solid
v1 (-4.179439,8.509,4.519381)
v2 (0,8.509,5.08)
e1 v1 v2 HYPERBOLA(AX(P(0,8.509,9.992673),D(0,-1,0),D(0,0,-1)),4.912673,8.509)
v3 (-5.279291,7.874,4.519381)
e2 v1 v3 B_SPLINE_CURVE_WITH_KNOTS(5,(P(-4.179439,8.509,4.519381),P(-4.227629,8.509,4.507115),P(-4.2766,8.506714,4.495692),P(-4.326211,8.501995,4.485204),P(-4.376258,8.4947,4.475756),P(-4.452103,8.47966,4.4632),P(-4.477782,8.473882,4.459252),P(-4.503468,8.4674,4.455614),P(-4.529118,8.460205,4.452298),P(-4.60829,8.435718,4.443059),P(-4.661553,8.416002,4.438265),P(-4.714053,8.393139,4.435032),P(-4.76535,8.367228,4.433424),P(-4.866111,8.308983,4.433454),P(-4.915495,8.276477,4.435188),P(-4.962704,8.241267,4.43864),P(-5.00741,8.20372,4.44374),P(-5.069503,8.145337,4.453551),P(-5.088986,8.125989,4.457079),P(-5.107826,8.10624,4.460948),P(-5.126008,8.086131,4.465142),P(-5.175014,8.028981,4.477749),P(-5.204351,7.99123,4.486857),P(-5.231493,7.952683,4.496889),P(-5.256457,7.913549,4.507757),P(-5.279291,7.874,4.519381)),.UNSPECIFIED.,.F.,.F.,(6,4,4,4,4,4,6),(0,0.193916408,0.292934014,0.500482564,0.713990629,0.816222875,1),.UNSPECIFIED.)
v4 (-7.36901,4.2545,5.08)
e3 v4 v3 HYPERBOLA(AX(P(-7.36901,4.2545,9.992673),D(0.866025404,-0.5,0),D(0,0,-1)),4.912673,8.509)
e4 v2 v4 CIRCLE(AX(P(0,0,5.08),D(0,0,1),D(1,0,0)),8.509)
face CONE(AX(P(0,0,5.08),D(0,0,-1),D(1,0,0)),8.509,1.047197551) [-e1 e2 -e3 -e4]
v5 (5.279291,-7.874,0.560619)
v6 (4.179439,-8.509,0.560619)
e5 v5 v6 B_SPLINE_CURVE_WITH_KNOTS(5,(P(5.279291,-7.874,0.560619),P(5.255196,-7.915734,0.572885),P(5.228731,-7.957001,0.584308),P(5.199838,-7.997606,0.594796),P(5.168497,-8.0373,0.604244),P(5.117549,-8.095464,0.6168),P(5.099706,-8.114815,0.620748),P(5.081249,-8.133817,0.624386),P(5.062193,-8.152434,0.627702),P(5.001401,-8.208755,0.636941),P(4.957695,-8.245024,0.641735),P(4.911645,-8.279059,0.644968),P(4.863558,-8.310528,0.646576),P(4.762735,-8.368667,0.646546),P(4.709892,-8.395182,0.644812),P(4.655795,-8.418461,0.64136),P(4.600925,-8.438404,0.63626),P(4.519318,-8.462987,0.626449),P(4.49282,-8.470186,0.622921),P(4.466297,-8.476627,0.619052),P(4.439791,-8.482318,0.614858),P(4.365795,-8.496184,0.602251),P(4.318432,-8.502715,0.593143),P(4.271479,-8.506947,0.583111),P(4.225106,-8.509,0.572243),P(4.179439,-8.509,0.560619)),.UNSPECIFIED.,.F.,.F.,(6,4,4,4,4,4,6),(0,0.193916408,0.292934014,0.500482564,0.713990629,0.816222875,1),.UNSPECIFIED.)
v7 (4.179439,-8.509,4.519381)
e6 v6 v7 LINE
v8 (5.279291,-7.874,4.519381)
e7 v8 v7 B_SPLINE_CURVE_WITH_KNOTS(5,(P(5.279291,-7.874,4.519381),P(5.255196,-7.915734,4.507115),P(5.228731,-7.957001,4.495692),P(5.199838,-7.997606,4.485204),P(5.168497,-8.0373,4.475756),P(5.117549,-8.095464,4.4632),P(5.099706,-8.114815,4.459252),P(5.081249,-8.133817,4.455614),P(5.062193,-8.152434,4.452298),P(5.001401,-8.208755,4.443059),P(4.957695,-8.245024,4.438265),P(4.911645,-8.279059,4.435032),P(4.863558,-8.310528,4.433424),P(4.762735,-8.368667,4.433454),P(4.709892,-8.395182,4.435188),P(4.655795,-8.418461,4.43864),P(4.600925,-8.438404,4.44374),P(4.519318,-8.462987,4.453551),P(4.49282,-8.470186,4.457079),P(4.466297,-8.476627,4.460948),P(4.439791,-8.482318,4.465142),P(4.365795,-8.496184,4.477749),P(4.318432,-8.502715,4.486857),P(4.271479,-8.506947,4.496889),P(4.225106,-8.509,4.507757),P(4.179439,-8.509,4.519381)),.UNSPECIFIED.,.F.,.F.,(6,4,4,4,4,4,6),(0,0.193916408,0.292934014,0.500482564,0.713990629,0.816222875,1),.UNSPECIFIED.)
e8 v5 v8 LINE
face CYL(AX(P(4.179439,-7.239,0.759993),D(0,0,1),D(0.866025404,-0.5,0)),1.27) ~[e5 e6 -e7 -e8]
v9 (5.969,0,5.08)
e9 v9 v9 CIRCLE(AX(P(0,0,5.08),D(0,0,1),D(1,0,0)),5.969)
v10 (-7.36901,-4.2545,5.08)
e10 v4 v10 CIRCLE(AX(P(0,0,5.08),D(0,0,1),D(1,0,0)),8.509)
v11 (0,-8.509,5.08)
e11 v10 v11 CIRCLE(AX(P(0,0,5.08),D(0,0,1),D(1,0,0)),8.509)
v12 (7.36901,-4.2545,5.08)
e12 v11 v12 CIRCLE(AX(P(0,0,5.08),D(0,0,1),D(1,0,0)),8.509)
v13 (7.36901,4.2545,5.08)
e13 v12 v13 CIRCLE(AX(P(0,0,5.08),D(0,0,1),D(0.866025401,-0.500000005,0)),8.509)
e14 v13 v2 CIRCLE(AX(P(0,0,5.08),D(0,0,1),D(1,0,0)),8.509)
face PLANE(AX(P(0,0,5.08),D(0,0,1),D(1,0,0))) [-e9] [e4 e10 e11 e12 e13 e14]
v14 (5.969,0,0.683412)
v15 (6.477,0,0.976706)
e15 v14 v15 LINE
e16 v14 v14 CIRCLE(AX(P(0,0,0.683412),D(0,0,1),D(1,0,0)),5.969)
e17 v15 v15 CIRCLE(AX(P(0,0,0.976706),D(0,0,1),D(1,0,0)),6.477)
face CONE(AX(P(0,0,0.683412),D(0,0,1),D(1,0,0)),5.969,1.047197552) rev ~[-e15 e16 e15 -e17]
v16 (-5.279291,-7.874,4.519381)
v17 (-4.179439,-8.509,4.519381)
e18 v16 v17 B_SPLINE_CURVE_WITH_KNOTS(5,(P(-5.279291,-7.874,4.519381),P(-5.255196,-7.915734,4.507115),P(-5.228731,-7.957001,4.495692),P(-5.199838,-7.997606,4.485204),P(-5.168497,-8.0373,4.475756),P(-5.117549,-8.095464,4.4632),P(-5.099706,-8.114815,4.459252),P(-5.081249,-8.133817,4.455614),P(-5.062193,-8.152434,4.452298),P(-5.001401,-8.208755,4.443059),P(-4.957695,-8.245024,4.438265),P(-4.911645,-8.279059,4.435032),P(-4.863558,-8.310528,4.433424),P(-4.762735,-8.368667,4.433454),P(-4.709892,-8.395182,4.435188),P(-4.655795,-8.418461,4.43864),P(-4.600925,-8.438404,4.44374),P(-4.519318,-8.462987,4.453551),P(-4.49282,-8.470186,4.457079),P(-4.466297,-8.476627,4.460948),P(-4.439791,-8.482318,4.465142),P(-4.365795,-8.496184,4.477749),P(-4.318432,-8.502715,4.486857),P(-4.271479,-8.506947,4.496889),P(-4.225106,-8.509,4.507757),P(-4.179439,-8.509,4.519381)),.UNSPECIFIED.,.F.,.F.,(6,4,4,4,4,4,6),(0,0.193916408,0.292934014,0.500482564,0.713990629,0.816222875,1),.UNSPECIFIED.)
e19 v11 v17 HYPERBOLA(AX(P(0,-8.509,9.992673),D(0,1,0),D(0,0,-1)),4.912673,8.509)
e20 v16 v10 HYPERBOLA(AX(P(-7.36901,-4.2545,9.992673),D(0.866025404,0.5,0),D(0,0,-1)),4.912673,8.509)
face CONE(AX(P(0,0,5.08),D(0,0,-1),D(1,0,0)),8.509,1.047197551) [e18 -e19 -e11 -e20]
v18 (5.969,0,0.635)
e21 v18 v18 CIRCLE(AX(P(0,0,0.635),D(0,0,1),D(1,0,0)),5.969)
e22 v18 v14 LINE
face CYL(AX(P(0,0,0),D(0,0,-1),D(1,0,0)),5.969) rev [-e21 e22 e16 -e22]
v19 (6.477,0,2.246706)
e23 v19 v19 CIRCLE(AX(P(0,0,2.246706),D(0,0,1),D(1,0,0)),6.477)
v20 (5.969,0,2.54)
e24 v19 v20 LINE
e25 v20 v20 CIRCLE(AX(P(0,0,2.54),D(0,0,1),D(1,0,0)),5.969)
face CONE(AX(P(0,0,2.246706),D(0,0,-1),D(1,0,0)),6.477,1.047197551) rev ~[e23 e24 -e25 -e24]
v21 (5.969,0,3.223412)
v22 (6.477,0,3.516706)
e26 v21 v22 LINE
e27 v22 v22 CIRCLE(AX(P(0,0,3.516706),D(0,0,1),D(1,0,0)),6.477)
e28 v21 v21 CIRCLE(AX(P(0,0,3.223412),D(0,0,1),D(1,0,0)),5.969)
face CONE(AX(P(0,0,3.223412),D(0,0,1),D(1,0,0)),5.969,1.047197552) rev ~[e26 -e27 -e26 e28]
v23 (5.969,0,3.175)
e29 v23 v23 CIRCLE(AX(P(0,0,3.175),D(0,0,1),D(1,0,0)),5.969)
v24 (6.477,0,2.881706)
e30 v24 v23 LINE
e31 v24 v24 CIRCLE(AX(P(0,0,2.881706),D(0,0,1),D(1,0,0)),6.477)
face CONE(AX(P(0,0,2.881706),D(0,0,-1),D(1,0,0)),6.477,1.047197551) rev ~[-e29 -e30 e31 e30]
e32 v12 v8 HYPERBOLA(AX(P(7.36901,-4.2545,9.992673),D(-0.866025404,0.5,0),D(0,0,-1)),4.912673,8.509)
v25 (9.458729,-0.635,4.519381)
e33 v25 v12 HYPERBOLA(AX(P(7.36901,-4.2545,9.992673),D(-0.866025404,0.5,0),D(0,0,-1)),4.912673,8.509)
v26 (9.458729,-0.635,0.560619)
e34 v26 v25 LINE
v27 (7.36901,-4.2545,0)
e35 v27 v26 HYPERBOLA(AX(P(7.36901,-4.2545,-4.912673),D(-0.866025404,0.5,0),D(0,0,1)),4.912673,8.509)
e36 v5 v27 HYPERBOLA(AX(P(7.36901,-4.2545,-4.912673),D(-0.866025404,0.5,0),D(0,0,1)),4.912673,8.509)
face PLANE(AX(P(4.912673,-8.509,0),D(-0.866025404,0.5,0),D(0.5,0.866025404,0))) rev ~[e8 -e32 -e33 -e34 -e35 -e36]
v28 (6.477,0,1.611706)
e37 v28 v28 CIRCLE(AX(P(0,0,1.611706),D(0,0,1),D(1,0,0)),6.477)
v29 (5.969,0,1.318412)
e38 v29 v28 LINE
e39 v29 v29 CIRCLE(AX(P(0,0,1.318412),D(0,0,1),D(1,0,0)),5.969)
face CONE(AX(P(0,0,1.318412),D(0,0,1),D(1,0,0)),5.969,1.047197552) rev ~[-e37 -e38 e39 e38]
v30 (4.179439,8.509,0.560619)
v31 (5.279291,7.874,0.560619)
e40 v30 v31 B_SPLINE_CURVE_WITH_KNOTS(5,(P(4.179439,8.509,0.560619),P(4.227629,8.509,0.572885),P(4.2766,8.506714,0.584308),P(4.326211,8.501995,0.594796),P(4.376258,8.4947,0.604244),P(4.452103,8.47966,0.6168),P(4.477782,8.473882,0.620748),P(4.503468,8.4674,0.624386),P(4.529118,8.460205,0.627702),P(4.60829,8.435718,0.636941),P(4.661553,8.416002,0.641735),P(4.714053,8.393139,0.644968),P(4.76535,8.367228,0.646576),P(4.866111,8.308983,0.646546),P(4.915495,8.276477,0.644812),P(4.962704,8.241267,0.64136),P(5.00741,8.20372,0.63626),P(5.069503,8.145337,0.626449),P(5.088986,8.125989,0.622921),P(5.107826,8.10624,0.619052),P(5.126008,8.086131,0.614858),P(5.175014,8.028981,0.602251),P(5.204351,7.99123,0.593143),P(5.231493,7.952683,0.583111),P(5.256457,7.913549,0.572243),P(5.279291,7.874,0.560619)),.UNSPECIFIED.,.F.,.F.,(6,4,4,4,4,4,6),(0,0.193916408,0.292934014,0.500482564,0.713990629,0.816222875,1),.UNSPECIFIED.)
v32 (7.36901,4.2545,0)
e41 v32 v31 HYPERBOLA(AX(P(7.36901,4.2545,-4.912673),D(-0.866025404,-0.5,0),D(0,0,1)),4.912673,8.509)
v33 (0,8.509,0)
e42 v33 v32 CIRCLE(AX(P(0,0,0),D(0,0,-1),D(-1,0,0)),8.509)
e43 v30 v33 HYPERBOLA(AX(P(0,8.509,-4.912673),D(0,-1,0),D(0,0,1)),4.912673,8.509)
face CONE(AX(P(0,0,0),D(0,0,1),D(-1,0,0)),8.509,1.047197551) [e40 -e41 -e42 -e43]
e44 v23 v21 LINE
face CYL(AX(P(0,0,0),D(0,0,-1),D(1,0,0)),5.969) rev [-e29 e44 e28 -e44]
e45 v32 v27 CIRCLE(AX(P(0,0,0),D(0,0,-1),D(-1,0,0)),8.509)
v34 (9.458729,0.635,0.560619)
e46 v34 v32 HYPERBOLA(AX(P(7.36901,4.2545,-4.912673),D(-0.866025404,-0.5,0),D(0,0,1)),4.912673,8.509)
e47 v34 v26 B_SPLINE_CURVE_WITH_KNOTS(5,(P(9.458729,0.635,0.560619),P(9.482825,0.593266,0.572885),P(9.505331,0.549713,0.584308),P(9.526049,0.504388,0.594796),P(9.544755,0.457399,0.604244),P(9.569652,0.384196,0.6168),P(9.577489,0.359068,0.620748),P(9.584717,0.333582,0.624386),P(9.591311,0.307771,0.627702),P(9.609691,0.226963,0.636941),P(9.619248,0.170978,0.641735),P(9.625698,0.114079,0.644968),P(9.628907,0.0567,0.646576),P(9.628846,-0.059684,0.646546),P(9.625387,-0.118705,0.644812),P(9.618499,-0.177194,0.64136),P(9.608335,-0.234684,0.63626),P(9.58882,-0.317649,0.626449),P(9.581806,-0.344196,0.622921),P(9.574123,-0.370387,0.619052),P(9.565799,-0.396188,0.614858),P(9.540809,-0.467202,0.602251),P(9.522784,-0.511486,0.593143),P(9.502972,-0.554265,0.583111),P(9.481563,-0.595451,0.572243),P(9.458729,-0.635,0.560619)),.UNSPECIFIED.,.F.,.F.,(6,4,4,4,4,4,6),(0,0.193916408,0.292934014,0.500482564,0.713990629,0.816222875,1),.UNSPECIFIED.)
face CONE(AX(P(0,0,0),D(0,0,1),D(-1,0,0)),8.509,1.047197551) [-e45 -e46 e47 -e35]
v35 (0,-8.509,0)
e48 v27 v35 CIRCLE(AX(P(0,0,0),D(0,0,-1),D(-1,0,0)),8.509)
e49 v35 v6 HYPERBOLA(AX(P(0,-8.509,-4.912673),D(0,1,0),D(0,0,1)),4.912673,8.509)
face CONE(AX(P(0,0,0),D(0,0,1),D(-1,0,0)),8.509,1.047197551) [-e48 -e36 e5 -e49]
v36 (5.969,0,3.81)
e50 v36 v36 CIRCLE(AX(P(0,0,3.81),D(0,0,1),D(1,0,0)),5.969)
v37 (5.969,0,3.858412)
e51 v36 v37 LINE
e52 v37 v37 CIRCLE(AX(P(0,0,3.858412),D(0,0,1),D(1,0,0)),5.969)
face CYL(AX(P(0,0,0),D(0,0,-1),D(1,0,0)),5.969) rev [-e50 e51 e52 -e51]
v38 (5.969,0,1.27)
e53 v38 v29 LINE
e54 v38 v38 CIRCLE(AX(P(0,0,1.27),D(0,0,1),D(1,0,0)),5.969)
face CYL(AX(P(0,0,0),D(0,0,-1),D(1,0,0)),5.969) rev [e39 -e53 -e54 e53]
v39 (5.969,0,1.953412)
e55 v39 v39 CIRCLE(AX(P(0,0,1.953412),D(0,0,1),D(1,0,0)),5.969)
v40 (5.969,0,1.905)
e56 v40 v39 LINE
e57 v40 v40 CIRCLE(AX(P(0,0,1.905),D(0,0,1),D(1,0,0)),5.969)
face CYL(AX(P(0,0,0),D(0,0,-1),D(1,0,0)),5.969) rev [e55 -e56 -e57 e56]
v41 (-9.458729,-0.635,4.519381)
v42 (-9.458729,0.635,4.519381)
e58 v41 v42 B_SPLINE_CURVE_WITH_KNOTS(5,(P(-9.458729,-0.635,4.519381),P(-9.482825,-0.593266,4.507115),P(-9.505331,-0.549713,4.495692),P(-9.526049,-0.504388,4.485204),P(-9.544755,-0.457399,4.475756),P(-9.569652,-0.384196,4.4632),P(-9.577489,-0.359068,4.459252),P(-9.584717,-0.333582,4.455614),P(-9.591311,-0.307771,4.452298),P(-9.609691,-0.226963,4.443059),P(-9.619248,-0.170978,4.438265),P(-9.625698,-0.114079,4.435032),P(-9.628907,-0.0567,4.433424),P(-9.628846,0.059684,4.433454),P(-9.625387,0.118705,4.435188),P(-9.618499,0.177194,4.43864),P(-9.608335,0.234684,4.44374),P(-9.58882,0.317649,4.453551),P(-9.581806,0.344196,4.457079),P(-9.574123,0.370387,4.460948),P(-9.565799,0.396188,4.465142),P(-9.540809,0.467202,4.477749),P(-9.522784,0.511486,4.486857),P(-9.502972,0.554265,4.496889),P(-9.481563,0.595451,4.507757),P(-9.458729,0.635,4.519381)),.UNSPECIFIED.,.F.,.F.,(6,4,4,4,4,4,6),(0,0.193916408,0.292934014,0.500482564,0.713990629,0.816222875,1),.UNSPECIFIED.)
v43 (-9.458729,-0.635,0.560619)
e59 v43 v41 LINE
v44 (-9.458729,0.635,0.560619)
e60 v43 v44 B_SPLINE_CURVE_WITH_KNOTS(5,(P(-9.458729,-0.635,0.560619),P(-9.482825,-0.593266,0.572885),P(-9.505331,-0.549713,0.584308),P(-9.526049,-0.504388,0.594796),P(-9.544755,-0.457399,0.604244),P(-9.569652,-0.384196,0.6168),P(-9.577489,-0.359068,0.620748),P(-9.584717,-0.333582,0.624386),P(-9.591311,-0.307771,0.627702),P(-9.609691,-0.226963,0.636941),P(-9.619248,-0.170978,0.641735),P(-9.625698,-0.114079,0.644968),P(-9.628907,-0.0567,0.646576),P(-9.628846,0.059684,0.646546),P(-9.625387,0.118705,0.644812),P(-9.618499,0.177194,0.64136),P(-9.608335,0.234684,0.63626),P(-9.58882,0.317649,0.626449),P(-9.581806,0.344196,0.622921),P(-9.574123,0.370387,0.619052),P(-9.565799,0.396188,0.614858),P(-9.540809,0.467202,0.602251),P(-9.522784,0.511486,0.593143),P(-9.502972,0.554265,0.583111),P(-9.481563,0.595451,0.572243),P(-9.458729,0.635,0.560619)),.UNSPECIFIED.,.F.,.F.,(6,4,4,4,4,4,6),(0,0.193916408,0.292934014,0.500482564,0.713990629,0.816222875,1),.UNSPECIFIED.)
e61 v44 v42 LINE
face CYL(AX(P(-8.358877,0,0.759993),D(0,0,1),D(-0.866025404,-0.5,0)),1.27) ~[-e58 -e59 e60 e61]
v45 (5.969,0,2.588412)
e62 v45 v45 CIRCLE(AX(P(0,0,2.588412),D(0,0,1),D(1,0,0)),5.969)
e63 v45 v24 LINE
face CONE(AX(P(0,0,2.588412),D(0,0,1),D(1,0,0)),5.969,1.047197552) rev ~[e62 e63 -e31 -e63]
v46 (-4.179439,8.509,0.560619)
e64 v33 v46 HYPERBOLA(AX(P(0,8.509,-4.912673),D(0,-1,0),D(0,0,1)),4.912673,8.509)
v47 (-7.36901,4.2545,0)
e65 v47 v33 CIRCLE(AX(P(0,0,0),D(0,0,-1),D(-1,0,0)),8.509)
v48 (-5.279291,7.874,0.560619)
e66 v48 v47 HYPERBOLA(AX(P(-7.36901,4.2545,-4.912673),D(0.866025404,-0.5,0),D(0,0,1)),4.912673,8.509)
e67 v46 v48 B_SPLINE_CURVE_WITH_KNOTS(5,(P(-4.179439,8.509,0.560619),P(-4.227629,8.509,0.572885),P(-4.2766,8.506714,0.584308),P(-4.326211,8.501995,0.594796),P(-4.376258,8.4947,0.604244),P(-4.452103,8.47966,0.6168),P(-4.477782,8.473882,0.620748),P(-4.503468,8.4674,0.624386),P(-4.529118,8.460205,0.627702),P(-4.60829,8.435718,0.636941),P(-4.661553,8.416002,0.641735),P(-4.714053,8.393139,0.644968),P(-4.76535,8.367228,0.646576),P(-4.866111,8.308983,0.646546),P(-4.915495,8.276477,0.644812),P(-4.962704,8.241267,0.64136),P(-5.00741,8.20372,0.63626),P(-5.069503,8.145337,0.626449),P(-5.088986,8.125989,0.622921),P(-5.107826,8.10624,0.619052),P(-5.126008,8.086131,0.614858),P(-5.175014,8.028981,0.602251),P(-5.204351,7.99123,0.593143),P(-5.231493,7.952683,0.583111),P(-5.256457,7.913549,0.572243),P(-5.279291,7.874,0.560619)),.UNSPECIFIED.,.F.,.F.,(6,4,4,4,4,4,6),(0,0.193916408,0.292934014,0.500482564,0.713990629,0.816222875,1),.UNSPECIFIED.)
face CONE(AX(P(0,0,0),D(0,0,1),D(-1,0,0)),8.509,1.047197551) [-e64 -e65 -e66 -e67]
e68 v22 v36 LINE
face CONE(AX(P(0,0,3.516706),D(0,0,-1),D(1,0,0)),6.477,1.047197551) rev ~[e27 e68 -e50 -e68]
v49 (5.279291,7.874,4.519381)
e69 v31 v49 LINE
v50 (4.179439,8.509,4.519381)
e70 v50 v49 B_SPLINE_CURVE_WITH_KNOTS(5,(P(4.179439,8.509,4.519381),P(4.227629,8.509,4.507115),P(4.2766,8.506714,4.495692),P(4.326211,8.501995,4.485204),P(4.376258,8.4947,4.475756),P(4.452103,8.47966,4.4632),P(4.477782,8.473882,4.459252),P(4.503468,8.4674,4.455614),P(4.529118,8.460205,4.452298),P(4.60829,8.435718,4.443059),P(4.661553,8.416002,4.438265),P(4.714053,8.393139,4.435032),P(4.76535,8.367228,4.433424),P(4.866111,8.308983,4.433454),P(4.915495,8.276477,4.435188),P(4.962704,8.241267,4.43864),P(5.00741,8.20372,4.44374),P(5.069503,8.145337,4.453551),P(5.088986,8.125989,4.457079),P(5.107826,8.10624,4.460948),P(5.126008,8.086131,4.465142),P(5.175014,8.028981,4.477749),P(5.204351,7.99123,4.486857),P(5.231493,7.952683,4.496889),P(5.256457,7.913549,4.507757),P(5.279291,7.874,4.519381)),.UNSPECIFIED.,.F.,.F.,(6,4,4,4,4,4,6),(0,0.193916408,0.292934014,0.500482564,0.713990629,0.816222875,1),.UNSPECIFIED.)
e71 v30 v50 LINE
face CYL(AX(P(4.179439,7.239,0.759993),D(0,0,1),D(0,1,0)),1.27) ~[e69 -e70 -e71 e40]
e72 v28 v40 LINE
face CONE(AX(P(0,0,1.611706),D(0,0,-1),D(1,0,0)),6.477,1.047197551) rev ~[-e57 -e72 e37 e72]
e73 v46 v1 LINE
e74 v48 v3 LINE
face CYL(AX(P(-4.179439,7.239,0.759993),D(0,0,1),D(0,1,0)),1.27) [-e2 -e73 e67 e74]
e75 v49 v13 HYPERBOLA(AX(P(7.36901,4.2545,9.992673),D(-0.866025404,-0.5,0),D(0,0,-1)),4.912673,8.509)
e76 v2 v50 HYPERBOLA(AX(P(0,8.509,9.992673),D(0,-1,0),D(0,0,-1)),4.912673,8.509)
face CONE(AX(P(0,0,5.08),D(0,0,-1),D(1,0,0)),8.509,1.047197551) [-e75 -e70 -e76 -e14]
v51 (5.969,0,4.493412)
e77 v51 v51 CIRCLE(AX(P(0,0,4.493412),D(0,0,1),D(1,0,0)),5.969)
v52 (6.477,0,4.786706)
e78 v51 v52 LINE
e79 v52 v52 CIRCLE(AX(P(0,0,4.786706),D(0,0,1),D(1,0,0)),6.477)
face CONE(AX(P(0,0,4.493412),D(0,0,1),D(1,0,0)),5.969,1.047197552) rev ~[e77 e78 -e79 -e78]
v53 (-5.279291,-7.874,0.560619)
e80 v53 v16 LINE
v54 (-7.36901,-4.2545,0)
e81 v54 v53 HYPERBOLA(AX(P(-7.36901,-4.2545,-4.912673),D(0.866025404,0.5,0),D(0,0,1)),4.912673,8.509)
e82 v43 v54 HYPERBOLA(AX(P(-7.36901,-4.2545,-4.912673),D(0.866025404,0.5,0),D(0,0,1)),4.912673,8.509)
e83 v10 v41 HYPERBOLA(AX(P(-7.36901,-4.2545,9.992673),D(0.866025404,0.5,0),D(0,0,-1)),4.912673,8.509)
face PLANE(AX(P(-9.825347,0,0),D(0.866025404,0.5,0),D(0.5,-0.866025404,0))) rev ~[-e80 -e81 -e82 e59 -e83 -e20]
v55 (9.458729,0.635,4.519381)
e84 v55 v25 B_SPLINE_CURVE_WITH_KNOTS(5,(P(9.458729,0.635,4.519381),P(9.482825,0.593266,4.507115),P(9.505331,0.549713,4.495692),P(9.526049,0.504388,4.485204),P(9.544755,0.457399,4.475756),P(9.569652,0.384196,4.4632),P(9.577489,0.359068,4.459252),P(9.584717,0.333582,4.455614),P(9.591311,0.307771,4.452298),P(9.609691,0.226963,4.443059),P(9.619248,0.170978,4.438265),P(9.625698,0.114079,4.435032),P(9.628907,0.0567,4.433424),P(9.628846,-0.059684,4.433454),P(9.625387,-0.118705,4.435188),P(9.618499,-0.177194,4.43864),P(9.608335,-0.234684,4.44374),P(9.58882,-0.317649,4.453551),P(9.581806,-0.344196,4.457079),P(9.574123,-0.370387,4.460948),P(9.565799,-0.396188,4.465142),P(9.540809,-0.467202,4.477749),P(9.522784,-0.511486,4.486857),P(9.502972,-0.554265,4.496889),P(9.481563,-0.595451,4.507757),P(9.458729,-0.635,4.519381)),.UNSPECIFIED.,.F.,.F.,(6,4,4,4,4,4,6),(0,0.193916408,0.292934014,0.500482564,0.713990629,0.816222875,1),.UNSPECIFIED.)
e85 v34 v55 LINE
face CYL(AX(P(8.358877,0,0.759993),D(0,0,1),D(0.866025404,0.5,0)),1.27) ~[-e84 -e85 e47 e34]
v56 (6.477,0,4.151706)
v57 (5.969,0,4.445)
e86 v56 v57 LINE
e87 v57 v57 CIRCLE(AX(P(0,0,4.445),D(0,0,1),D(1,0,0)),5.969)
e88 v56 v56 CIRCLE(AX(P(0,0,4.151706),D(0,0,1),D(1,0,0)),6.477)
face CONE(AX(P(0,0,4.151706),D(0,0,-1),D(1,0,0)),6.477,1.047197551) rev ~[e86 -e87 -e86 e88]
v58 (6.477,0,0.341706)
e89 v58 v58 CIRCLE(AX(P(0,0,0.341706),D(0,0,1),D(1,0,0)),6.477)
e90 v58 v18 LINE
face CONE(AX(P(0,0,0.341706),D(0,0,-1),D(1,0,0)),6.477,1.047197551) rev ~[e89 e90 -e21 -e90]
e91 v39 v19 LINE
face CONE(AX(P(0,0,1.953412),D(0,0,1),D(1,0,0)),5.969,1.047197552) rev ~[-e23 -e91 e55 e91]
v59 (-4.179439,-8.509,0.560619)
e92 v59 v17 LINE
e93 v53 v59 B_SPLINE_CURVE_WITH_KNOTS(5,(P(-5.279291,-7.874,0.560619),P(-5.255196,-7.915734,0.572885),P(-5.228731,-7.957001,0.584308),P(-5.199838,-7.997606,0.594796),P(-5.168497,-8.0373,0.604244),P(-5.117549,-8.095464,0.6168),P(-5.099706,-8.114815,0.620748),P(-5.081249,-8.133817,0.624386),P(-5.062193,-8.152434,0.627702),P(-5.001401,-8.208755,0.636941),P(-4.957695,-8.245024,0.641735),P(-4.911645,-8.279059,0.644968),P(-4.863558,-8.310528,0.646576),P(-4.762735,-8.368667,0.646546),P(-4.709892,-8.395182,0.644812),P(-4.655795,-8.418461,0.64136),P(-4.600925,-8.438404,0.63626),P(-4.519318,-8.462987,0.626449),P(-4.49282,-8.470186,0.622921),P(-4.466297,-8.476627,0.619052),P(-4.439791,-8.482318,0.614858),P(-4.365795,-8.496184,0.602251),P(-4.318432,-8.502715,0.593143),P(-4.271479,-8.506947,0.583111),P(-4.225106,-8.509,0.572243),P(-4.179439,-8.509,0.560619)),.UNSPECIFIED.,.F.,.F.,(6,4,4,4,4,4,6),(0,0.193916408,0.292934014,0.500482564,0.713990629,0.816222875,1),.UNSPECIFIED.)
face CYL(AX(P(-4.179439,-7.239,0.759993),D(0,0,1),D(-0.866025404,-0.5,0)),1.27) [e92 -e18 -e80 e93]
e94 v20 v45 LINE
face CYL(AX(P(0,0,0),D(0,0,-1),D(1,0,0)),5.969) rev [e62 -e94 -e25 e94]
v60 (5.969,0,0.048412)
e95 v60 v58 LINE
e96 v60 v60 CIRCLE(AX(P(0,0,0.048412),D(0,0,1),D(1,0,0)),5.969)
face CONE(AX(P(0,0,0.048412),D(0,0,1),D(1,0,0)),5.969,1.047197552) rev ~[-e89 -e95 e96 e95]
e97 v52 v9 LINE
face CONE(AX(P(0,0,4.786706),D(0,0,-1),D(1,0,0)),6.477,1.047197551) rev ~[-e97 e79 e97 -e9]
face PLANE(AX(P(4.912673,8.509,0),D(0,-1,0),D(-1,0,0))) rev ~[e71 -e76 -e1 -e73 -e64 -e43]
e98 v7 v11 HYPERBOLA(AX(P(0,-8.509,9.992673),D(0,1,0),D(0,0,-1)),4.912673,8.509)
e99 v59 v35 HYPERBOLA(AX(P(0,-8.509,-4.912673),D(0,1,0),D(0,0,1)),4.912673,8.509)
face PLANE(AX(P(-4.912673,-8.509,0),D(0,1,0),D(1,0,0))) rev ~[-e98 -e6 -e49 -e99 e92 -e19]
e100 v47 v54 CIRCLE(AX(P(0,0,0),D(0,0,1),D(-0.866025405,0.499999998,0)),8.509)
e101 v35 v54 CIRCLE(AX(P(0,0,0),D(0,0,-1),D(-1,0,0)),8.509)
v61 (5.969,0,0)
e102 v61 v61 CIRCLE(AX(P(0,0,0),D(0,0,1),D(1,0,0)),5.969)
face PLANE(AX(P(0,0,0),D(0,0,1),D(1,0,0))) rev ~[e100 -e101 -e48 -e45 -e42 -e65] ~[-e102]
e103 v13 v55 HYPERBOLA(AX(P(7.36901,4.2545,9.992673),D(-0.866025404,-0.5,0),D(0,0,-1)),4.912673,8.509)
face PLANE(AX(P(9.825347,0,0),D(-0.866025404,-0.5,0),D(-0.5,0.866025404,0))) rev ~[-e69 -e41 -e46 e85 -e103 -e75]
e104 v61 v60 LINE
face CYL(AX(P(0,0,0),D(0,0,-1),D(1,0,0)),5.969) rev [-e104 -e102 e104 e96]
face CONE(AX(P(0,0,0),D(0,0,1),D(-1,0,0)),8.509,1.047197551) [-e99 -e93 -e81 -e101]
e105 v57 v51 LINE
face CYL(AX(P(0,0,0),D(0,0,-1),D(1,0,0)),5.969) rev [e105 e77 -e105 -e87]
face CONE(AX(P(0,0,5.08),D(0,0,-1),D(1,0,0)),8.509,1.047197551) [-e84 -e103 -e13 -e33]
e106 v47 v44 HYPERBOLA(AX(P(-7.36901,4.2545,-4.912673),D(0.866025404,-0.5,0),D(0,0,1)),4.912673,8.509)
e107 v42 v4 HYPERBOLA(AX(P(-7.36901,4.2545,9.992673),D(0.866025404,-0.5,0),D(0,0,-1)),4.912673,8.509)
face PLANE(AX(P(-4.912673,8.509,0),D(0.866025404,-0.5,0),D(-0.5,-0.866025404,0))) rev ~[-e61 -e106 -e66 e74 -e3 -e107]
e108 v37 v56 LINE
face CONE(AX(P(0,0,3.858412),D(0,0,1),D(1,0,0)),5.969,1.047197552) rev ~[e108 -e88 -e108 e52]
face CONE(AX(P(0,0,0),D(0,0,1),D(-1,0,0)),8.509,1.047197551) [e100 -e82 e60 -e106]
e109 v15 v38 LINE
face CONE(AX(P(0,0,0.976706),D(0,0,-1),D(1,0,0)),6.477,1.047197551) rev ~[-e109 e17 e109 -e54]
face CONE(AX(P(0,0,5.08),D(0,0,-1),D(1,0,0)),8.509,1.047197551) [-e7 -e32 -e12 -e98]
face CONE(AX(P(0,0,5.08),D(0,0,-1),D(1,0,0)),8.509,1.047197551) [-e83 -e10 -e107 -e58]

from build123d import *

# Parameters (mm, degrees)
SKETCH1_R          = 5.969
EXTRUDE1_DEPTH     = 5.08
SKETCH2_OUTSIDE_W  = 48.01
SKETCH2_OUTSIDE_H  = 45.378
SKETCH2_OUTSIDE_R  = 8.509
CUT_EXTRUDE1_DEPTH = 6.08
CUT_EXTRUDE1_DRAFT = -60
SKETCH3_OUTSIDE_W  = 48.01
SKETCH3_OUTSIDE_H  = 45.378
SKETCH3_OUTSIDE_R  = 8.509
CUT_EXTRUDE2_DEPTH = 6.08
CUT_EXTRUDE2_DRAFT = -60
FILLET1_R          = 1.27
LPATTERN1_COUNT    = 8
LPATTERN1_PITCH    = 0.635


with BuildPart() as part:
    # Sketch1 → Extrude1 (new body)
    with BuildSketch(Plane.XY):
        Polygon((-9.825346881, 0), (-4.912673441, -8.509), (4.912673441, -8.509), (9.825346881, 0), (4.912673441, 8.509), (-4.912673441, 8.509), align=None)
        Circle(SKETCH1_R, mode=Mode.SUBTRACT)
    extrude(amount=EXTRUDE1_DEPTH)


with BuildPart() as cut_extrude1_tool:
    # Sketch2 outside → Cut-Extrude1 (with draft: the straight prism first)
    with BuildSketch(Plane.XY.offset(5.08)):
        Rectangle(SKETCH2_OUTSIDE_W, SKETCH2_OUTSIDE_H)
        Circle(SKETCH2_OUTSIDE_R, mode=Mode.SUBTRACT)
    extrude(amount=-CUT_EXTRUDE1_DEPTH)
    # Cut-Extrude1: the draft: its side faces are tilted about the plane it starts from
    cut_extrude1_sides = [cut_extrude1_tool.faces().sort_by_distance(p)[0] for p in [
        (0, -22.689, 2.04),
        (24.005, 0, 2.04),
        (0, 22.689, 2.04),
        (-24.005, 0, 2.04),
        (-8.509, 0, 2.04),
    ]]
    draft(cut_extrude1_sides, Plane.XY.offset(5.08), CUT_EXTRUDE1_DRAFT)


with BuildPart() as part_1:
    add(part.part)

    # Cut-Extrude1: cut by cut_extrude1_tool
    add(cut_extrude1_tool.part, mode=Mode.SUBTRACT)


with BuildPart() as cut_extrude2_tool:
    # Sketch3 outside → Cut-Extrude2 (with draft: the straight prism first)
    with BuildSketch(Plane(origin=(0, 0, 0), x_dir=(-1, 0, 0), z_dir=(0, 0, -1))):
        Rectangle(SKETCH3_OUTSIDE_W, SKETCH3_OUTSIDE_H)
        Circle(SKETCH3_OUTSIDE_R, mode=Mode.SUBTRACT)
    extrude(amount=-CUT_EXTRUDE2_DEPTH)
    # Cut-Extrude2: the draft: its side faces are tilted about the plane it starts from
    cut_extrude2_sides = [cut_extrude2_tool.faces().sort_by_distance(p)[0] for p in [
        (0, -22.689, 3.04),
        (-24.005, 0, 3.04),
        (0, 22.689, 3.04),
        (24.005, 0, 3.04),
        (8.509, 0, 3.04),
    ]]
    draft(cut_extrude2_sides, Plane(origin=(0, 0, 0), x_dir=(-1, 0, 0), z_dir=(0, 0, -1)), CUT_EXTRUDE2_DRAFT)


with BuildPart() as part_2:
    add(part_1.part)

    # Cut-Extrude2: cut by cut_extrude2_tool
    add(cut_extrude2_tool.part, mode=Mode.SUBTRACT)

    # Fillet1
    fillet1_edges = [part_2.edges().sort_by_distance(p)[0] for p in [
        (9.825346881, 0, 2.54),
        (4.912673441, -8.509, 2.54),
        (-4.912673441, -8.509, 2.54),
        (-9.825346881, 0, 2.54),
        (-4.912673441, 8.509, 2.54),
        (4.912673441, 8.509, 2.54),
    ]]
    fillet(fillet1_edges, radius=FILLET1_R)

    # Sketch4 → Cut-Revolve1 (revolve, cut)
    with BuildSketch(Plane(origin=(0, 0, 0), x_dir=(1, 0, 0), z_dir=(0, 1, 0)), mode=Mode.PRIVATE) as cut_revolve1_sk:
        Polygon((-5.969, -5.08), (-5.969, -4.493412127), (-6.477, -4.786706063), align=None)
    cut_revolve1 = revolve(cut_revolve1_sk.sketch.rotate(Axis((0, 0, 0), (0, 0, 1)), 180), axis=Axis((0, 0, 0), (0, 0, 1)), mode=Mode.SUBTRACT)  # turned: the seam where the file's is

    # LPattern1: Cut-Revolve1 ×8
    with Locations(*[(0, 0, -i * LPATTERN1_PITCH) for i in range(1, LPATTERN1_COUNT)]):
        add(cut_revolve1, mode=Mode.SUBTRACT)


solid = part_2.part
